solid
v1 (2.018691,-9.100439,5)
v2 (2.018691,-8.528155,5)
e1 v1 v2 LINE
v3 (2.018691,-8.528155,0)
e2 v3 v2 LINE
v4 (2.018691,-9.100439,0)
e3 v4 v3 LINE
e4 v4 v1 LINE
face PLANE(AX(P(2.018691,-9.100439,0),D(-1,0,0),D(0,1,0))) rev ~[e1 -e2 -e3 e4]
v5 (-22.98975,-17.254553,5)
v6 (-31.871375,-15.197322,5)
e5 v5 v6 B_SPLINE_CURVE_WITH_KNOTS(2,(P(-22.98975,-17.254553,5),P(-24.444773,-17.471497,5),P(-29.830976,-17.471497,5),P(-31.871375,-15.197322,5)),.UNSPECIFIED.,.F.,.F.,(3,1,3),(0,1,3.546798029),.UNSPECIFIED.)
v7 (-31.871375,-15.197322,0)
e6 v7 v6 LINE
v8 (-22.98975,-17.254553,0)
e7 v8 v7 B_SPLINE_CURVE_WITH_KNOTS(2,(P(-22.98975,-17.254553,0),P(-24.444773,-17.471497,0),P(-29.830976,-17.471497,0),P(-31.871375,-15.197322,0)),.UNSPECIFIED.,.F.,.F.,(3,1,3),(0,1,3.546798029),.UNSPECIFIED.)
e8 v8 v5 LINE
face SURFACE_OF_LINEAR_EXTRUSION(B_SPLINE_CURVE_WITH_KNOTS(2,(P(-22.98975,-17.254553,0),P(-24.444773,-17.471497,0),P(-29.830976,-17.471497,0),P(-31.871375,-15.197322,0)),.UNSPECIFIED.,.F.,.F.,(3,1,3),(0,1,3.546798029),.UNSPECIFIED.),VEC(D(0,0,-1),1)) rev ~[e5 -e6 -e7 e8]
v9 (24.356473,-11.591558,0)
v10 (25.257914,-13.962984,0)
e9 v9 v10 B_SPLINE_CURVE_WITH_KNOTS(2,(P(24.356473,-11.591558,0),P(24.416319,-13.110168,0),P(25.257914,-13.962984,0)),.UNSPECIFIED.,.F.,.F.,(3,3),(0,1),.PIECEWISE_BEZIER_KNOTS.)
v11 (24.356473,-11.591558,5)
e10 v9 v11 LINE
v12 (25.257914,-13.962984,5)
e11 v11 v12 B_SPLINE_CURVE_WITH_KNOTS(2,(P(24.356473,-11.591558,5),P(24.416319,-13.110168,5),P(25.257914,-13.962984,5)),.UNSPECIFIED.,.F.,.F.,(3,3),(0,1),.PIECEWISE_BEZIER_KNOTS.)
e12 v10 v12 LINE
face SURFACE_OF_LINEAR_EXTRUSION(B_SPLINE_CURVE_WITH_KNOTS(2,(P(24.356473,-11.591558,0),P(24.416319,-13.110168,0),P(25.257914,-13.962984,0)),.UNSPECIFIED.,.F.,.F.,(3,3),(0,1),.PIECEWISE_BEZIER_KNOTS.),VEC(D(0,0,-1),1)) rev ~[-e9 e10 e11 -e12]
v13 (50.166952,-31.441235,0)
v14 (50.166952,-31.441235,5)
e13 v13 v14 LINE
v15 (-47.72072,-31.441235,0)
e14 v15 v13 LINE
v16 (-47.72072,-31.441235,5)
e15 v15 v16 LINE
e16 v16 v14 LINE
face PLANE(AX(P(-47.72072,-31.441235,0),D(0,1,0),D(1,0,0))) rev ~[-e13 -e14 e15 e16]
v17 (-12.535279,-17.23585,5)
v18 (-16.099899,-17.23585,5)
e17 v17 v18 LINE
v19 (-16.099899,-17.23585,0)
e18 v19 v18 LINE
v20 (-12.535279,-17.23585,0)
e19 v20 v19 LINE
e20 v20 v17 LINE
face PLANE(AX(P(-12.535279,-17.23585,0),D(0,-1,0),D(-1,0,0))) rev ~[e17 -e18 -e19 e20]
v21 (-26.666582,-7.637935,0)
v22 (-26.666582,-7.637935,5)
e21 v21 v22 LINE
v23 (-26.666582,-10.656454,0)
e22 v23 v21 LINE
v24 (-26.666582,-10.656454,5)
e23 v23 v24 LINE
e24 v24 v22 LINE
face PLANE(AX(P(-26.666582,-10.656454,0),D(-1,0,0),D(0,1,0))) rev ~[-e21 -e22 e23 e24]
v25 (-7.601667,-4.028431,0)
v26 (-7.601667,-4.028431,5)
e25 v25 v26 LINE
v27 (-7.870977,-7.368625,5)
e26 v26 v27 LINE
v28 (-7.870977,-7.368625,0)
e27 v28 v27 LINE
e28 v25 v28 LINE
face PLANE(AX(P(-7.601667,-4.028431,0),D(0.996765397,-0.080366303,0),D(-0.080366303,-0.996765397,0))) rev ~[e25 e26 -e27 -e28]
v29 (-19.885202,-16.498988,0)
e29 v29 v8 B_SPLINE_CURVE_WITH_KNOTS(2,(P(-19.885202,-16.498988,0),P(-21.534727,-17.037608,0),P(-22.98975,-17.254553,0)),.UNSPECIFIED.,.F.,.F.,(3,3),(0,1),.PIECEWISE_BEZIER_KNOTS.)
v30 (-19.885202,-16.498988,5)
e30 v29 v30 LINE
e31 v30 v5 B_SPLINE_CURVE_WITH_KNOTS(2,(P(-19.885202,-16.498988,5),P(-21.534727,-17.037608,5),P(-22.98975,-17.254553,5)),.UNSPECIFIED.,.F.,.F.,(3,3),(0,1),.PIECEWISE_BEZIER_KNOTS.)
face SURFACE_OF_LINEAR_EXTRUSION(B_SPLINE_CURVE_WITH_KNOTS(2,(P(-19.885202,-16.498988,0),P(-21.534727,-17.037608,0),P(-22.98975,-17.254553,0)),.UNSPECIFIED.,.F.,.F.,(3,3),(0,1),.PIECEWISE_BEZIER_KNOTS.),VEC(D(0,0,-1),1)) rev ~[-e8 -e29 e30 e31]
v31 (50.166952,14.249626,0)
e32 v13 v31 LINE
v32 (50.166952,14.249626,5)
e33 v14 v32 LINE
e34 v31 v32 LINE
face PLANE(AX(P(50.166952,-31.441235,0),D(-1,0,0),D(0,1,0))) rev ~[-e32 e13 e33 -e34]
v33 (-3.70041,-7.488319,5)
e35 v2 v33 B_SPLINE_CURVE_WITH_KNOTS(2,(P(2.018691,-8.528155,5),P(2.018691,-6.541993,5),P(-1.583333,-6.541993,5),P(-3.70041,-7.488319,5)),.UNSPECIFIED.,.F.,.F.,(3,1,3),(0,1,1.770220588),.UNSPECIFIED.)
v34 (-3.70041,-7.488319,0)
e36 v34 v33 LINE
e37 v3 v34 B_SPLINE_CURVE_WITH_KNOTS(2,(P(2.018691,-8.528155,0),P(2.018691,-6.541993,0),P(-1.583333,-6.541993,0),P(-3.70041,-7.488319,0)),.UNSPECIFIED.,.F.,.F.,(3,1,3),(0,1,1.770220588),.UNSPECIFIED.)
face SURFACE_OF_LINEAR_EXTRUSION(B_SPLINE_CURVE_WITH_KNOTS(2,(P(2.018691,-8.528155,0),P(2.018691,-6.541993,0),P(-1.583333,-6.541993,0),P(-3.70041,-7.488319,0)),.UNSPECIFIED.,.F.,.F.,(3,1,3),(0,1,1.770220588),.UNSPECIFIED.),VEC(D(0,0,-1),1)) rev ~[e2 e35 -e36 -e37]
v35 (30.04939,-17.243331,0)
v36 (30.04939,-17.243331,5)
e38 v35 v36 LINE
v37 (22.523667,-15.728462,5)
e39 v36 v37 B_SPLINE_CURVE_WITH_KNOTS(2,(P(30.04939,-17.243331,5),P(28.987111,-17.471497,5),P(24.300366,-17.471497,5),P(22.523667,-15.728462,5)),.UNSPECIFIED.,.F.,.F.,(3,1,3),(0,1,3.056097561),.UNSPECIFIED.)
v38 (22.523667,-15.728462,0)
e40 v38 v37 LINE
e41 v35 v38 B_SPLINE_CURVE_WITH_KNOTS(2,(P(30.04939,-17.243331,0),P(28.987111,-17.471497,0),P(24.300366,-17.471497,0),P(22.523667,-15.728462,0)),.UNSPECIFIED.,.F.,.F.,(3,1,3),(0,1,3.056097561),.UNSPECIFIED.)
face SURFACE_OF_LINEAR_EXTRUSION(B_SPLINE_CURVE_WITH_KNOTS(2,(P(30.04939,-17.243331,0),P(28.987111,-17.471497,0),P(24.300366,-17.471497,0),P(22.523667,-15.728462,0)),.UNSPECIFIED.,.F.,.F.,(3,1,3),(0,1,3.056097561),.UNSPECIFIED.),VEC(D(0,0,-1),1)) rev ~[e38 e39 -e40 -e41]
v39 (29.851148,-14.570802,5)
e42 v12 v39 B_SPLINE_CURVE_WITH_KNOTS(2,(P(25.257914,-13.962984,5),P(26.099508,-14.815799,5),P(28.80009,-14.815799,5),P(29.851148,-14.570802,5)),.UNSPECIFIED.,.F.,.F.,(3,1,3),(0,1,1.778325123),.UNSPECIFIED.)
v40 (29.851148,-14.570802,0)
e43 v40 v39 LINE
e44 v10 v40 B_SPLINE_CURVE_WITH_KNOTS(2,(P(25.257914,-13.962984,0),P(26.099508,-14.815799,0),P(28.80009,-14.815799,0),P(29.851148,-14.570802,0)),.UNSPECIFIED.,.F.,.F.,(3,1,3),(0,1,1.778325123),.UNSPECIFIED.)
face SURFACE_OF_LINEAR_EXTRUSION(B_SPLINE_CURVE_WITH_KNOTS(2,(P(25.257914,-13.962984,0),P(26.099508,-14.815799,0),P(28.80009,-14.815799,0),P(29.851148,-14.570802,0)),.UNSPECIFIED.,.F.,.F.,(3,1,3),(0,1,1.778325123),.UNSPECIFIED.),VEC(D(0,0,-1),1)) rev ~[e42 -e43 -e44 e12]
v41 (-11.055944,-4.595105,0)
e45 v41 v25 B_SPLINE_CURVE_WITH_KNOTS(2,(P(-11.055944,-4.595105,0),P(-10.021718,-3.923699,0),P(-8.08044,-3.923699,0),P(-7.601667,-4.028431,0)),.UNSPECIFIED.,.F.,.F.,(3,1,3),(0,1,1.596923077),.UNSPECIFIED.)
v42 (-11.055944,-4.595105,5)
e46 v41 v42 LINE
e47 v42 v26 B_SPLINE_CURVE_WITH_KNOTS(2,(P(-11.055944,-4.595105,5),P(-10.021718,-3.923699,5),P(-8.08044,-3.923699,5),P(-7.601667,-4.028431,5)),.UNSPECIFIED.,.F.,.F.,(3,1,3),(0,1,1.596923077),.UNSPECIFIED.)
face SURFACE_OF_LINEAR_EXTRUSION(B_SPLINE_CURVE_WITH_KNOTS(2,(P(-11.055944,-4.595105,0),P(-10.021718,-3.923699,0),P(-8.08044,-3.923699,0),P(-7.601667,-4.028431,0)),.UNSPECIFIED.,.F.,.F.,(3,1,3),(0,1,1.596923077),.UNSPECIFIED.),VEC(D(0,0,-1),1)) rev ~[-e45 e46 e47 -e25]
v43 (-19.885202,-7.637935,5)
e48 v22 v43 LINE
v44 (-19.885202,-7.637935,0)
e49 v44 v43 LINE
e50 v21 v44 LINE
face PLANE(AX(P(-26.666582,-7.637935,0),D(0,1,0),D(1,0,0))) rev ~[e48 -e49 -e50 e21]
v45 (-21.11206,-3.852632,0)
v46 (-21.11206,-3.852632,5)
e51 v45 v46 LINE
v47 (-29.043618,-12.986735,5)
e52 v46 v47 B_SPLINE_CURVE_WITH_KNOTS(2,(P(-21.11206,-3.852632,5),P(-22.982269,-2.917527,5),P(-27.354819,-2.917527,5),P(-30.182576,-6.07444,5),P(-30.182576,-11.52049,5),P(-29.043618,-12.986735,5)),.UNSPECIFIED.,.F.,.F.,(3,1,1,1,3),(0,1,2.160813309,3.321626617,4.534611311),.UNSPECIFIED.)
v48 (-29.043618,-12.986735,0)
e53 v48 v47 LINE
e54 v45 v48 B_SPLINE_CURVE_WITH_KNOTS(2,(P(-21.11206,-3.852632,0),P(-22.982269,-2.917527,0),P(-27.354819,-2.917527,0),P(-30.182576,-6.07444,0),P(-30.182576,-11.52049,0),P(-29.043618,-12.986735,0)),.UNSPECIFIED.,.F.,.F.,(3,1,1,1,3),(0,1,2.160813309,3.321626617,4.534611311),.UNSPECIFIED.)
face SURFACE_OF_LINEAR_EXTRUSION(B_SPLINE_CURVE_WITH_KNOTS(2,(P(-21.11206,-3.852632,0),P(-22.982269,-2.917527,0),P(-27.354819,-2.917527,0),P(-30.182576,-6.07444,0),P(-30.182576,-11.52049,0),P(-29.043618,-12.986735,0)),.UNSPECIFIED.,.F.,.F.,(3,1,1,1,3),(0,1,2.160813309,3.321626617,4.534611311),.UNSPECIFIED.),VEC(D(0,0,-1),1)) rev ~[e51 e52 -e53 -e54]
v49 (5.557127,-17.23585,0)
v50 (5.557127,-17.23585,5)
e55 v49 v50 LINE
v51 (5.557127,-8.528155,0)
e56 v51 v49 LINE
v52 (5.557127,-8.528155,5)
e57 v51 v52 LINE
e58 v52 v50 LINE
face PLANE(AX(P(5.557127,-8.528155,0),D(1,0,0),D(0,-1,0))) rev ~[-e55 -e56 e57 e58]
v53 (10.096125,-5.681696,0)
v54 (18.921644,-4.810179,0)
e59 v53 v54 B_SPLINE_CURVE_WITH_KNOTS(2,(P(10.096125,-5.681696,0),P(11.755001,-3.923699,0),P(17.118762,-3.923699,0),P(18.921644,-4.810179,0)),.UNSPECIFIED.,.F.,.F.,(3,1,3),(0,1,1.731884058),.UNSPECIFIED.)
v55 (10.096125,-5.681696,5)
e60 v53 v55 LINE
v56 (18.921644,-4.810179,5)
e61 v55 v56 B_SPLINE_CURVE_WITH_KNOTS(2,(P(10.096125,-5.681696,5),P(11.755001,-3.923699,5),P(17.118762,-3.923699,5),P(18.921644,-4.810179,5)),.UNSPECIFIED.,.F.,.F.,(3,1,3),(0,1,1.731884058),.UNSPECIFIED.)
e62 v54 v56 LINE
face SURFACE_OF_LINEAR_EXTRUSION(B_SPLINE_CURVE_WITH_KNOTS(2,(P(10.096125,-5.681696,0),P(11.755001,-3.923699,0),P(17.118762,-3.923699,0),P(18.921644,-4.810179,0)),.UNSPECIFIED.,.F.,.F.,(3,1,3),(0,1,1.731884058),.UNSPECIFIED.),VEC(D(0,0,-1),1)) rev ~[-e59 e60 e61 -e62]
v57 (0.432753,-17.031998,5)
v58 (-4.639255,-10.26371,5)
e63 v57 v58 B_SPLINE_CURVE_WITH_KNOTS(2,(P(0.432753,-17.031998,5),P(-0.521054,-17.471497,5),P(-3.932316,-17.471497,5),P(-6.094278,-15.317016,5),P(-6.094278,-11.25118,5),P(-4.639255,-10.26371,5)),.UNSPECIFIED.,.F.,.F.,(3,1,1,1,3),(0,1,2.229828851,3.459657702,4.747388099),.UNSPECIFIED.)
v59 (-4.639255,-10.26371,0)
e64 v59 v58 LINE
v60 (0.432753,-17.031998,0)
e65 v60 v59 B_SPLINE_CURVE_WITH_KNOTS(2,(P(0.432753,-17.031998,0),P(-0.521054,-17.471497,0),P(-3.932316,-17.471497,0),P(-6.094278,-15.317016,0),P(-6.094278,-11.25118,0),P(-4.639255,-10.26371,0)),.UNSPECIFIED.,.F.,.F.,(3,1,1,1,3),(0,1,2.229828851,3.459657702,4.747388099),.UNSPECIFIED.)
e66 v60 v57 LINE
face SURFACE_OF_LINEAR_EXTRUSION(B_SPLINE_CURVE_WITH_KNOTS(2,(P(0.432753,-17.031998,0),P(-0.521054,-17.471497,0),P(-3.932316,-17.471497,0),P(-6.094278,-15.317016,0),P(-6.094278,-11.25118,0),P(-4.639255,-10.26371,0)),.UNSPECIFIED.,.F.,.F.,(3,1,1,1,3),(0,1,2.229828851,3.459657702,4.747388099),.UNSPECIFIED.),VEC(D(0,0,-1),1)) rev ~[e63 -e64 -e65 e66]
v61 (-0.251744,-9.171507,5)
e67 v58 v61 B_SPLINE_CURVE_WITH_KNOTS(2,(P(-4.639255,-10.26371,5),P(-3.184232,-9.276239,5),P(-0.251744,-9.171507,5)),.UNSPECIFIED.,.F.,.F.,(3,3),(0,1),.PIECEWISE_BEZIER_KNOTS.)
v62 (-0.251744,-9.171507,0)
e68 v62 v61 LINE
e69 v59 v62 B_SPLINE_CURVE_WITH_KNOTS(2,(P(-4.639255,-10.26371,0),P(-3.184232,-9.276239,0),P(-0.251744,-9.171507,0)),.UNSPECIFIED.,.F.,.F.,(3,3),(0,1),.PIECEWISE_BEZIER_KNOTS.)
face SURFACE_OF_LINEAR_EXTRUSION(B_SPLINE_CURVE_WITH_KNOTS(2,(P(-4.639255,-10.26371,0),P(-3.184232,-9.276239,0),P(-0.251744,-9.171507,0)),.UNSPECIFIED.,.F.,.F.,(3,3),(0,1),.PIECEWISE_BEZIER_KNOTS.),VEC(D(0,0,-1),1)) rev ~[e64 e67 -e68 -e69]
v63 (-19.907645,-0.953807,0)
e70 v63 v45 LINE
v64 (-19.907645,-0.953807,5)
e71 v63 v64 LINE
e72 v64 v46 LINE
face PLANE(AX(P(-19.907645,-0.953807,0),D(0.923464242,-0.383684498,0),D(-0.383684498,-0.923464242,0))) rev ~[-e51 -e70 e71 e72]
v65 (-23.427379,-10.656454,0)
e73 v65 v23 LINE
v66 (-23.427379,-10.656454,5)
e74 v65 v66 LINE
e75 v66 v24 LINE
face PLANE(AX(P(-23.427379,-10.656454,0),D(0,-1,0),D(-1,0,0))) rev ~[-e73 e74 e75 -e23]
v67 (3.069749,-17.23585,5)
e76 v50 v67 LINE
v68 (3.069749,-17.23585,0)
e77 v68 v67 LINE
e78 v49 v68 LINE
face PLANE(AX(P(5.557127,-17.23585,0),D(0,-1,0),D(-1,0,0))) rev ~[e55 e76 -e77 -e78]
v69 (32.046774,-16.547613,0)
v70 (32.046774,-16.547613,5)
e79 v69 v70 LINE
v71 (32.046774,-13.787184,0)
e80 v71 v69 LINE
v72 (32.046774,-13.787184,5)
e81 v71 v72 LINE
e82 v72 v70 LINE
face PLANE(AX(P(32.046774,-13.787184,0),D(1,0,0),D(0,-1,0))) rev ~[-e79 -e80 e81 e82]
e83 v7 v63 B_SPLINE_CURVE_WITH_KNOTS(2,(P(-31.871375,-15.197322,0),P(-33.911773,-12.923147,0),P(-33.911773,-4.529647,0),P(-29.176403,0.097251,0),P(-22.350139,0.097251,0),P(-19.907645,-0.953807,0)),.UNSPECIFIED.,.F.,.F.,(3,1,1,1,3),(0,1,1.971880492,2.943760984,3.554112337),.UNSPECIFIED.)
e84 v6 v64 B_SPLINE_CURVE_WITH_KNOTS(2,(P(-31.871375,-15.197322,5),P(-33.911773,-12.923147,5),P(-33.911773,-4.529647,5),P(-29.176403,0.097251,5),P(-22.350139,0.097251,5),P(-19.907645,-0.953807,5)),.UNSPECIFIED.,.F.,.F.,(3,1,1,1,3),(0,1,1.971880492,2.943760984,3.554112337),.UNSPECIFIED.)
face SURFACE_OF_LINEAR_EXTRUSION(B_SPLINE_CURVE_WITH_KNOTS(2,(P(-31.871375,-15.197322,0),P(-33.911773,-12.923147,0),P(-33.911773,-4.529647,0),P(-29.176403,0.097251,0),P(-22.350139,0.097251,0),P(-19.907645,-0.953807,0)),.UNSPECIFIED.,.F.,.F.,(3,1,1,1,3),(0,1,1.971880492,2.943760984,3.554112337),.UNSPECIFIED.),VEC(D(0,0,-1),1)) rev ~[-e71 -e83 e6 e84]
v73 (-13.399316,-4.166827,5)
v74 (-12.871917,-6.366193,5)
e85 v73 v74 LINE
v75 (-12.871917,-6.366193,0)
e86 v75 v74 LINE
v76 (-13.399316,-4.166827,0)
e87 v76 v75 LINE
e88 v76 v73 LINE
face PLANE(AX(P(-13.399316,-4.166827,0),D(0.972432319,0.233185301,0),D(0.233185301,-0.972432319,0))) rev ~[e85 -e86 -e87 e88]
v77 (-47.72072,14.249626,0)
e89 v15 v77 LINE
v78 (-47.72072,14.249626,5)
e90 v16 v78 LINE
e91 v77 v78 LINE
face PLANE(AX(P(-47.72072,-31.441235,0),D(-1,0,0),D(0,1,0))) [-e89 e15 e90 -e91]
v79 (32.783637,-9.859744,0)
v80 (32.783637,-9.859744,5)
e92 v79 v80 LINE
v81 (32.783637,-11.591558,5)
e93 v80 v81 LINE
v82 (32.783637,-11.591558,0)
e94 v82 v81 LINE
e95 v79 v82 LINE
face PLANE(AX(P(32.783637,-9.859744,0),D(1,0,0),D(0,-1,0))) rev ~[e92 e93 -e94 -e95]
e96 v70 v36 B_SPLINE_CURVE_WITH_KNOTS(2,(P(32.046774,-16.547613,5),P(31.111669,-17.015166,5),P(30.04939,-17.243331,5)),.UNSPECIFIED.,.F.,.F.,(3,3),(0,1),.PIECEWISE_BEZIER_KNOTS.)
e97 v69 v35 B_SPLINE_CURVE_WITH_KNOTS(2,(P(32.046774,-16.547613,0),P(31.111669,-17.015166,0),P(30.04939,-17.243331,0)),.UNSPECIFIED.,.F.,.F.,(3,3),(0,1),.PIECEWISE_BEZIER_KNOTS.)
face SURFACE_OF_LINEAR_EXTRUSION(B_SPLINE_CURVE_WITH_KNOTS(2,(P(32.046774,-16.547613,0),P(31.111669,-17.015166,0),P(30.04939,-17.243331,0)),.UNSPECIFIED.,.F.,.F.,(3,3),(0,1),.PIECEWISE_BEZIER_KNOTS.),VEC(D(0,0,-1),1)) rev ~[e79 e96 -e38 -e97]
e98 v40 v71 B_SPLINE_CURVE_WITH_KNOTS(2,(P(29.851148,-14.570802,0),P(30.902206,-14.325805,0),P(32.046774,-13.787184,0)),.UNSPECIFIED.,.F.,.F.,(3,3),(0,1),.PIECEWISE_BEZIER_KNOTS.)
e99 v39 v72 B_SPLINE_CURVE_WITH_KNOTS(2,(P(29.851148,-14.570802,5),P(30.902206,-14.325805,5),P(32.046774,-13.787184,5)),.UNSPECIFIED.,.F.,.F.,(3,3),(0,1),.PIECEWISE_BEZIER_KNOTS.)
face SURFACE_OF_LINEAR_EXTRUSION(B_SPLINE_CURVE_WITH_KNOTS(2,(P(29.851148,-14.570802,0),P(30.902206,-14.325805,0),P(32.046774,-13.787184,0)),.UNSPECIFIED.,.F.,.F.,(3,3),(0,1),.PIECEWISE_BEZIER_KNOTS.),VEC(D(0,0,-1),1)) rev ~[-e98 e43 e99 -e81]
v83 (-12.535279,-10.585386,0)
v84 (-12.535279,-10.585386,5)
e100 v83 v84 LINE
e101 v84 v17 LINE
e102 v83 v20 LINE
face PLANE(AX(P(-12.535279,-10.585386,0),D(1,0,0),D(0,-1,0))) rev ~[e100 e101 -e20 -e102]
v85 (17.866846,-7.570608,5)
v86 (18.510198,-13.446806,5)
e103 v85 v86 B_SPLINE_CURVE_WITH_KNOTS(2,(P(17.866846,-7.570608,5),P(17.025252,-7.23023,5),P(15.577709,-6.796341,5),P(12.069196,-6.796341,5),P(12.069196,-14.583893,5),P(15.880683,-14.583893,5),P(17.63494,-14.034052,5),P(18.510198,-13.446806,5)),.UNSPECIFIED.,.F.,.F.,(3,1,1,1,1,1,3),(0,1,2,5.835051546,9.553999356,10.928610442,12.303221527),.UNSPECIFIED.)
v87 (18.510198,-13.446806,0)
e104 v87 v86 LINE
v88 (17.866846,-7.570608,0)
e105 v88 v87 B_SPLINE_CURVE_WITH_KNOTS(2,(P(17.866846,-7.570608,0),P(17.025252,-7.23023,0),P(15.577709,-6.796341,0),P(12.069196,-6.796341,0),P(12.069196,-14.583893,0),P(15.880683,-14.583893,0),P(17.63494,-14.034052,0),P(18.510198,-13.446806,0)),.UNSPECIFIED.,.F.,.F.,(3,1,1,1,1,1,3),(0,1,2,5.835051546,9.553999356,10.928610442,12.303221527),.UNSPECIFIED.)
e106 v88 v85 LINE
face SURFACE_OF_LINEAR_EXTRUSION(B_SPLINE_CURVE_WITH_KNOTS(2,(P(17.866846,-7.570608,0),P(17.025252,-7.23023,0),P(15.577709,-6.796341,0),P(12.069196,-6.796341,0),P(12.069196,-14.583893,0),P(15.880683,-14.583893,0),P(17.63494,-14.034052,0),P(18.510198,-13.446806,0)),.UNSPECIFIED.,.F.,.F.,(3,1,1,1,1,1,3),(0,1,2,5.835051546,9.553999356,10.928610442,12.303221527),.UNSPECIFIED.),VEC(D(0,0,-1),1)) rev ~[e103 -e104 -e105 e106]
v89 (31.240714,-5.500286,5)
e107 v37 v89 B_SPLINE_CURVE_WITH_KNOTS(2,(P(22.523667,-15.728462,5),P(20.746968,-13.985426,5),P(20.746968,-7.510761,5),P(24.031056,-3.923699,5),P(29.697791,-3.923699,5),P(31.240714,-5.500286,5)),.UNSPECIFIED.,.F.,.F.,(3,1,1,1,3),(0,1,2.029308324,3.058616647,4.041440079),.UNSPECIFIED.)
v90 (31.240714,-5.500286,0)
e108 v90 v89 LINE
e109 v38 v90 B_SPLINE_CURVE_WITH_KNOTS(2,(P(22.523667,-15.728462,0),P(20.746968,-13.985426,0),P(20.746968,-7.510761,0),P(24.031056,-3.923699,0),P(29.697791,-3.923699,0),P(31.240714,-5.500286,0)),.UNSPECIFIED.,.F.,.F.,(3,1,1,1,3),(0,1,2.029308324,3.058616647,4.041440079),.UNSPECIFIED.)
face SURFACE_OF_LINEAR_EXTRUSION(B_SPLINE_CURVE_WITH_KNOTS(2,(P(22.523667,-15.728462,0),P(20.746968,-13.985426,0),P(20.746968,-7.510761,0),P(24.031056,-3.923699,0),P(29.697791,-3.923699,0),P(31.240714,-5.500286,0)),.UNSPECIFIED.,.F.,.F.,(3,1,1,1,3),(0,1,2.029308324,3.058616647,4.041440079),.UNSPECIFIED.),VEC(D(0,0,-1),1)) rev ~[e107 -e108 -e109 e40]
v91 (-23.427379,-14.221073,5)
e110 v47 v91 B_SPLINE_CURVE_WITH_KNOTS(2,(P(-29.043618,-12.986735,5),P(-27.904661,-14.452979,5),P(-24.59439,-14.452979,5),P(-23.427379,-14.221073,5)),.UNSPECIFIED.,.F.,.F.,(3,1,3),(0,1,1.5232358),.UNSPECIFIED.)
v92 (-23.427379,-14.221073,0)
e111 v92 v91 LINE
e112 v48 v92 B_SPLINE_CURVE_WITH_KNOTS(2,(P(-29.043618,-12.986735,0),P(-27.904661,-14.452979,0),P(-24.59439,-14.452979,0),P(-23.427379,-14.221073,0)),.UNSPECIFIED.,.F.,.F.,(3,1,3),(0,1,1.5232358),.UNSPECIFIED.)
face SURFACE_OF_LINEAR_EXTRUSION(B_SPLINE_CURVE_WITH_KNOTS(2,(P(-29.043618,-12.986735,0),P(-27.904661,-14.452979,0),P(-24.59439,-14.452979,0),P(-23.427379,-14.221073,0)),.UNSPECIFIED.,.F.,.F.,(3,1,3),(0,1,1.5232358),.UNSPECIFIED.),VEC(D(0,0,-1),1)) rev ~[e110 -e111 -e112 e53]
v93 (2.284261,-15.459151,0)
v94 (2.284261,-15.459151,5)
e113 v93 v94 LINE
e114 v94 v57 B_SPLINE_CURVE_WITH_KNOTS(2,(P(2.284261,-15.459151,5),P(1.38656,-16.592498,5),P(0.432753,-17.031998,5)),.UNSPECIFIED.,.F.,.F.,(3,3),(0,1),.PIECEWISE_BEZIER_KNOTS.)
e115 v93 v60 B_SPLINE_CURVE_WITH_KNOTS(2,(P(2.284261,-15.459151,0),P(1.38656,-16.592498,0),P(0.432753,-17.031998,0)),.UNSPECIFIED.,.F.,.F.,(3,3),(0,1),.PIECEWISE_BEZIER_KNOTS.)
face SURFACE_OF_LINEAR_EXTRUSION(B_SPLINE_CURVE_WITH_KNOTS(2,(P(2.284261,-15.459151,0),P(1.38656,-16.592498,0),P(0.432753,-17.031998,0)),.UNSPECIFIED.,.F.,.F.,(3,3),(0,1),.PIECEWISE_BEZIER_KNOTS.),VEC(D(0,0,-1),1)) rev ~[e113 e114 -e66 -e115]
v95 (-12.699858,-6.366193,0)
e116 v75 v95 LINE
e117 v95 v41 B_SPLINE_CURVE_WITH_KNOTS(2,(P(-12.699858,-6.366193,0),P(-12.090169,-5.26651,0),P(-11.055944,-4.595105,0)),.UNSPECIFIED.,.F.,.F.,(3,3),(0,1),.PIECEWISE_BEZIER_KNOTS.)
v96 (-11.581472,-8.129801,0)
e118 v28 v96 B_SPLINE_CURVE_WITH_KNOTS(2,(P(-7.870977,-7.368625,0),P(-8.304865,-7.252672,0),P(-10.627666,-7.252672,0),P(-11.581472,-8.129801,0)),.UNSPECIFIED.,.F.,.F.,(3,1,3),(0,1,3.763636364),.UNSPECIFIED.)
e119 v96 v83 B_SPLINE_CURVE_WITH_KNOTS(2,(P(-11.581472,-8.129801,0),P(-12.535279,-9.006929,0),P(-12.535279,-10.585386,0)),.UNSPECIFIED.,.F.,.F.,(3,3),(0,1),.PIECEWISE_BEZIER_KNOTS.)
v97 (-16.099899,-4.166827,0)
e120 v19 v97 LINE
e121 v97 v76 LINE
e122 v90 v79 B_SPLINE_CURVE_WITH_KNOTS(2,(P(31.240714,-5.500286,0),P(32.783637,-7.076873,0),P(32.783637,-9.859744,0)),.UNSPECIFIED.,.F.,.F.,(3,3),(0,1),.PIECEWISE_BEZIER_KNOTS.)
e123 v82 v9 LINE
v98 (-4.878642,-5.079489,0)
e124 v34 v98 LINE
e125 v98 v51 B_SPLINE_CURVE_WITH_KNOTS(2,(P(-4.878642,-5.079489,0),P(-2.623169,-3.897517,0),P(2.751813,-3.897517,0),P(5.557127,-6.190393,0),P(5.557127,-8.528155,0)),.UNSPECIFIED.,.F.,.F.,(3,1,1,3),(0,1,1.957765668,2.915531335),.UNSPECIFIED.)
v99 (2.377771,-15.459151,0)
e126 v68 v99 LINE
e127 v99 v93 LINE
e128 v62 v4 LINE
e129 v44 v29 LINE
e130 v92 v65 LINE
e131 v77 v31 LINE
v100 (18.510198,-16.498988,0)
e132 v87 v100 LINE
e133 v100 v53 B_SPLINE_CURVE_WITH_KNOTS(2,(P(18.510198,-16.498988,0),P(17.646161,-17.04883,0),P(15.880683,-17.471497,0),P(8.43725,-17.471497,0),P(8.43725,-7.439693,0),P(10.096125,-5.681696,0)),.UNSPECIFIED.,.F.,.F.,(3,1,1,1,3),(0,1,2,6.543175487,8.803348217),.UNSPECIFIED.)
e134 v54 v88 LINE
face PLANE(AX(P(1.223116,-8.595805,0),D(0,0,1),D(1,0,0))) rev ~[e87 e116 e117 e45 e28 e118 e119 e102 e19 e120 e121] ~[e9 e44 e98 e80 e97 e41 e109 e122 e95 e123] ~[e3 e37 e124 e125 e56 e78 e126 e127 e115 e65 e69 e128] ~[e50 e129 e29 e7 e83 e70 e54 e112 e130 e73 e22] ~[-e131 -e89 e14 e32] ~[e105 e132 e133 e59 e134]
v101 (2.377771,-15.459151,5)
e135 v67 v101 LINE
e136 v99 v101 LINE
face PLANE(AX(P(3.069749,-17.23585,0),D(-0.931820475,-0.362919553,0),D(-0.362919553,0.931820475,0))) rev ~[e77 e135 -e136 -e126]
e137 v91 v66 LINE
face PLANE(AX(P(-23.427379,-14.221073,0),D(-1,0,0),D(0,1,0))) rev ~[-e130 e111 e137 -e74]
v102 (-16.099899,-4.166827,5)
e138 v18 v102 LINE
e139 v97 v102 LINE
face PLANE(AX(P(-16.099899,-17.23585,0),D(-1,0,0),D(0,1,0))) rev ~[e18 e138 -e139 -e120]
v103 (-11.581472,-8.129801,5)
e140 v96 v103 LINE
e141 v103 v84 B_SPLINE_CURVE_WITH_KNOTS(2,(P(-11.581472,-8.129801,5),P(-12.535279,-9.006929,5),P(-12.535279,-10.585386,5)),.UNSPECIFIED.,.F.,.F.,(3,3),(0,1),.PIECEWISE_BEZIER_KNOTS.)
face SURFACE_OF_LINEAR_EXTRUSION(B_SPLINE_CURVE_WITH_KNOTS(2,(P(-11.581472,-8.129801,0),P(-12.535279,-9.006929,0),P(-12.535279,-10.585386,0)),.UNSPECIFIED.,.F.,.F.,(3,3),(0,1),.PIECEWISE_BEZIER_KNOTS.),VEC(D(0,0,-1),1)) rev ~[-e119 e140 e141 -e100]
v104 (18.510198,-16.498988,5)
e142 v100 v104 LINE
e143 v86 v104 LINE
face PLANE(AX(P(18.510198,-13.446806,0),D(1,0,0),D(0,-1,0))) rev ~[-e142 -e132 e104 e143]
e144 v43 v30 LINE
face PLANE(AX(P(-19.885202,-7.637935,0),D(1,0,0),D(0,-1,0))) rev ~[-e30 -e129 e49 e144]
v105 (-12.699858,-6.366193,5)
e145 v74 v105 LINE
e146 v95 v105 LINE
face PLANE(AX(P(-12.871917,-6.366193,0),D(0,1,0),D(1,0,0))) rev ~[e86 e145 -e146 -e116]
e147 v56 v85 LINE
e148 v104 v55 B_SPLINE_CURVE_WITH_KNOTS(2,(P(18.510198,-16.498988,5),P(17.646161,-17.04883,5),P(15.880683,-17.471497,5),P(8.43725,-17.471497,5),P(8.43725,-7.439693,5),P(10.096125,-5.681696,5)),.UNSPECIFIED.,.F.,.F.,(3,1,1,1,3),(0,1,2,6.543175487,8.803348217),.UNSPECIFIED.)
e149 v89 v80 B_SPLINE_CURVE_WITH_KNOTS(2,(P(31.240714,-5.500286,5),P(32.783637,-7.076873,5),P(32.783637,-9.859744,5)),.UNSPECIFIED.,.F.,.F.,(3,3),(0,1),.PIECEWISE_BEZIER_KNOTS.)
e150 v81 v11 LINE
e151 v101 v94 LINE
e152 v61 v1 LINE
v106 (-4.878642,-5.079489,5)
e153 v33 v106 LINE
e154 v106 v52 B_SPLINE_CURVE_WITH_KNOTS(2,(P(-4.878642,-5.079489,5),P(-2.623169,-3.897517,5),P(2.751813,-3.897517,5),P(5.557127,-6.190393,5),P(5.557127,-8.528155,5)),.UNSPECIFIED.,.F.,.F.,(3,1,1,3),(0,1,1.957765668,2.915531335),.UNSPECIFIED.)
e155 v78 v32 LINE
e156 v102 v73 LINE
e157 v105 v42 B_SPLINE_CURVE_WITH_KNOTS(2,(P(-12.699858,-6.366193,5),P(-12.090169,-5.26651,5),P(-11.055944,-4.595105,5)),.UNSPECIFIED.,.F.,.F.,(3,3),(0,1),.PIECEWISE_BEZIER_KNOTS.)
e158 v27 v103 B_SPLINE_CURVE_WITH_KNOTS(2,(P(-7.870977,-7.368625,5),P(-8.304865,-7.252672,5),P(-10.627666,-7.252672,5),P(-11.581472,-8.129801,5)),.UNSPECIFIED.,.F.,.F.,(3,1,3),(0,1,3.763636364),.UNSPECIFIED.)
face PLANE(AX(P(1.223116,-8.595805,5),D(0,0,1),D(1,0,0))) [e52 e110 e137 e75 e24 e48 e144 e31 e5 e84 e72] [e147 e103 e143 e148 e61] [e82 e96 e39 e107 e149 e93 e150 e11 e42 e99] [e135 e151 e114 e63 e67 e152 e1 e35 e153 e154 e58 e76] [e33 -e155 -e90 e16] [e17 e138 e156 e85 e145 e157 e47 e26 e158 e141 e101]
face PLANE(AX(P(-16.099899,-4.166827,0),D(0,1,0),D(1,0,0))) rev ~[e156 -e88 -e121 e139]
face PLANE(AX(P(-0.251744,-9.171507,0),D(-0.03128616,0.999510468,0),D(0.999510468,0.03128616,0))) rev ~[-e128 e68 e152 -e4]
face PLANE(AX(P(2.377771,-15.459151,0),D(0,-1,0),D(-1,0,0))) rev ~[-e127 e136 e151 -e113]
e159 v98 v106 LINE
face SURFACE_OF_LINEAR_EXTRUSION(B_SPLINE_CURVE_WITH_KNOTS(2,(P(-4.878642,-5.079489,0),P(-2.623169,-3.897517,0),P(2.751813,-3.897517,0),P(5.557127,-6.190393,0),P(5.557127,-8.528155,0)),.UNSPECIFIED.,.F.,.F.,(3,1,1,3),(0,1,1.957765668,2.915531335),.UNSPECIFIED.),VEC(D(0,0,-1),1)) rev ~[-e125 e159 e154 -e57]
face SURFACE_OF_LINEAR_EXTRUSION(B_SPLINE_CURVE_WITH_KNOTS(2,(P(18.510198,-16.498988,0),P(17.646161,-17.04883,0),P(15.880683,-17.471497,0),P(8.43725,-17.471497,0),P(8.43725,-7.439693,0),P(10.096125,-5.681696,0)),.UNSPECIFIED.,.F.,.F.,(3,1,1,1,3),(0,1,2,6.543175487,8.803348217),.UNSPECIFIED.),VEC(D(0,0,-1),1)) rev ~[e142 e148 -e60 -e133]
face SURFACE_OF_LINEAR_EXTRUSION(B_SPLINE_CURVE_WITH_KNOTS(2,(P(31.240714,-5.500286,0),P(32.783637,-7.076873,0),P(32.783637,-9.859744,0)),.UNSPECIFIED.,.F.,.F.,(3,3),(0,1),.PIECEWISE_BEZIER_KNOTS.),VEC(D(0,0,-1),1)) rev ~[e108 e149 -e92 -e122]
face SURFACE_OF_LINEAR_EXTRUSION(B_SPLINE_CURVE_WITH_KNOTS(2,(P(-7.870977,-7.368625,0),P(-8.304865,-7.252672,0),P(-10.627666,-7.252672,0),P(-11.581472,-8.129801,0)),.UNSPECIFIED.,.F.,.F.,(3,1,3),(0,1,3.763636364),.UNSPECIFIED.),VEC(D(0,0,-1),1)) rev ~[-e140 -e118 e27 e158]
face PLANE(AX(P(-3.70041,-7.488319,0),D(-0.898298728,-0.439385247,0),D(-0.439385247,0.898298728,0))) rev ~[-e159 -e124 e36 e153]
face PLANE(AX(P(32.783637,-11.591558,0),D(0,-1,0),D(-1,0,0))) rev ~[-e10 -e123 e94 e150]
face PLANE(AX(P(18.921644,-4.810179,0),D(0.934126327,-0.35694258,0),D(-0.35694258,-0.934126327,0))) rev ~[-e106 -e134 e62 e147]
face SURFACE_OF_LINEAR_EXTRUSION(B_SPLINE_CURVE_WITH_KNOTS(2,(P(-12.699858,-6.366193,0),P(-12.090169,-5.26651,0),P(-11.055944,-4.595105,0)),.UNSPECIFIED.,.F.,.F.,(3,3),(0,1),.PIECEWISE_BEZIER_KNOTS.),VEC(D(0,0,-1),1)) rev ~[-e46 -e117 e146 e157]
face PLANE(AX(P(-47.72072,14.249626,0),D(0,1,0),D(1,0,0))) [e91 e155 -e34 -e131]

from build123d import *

# Parameters (mm, degrees)
F0_W     = 97.8876724839
F0_H     = 45.6908610649
F1_DEPTH = 5


with BuildPart() as f1:
    # F0 (on Top) → F1 (new body)
    with BuildSketch(Plane.XY):
        with Locations((1.2231161818, -8.5958049167)):
            Rectangle(F0_W, F0_H)
        with BuildLine():
            Line((-26.666582018, -10.6564535441), (-26.666582018, -7.637935464))
            Line((-26.666582018, -7.637935464), (-19.8852024899, -7.637935464))
            Line((-19.8852024899, -7.637935464), (-19.8852024899, -16.4989879196))
            add(Edge.make_bspline(
                [(-19.8852024899, -16.4989879196), (-21.53472724, -17.0376082461), (-22.9897502054, -17.2545525443)],
                knots=[0, 0, 0, 1, 1, 1], degree=2))
            add(Edge.make_bspline(
                [(-22.9897502054, -17.2545525443), (-24.4447731709, -17.4714968425), (-25.9633832583, -17.4714968425)],
                knots=[0, 0, 0, 1, 1, 1], degree=2))
            add(Edge.make_bspline(
                [(-25.9633832583, -17.4714968425), (-29.8309764364, -17.4714968425), (-31.8713749652, -15.1973221304)],
                knots=[0, 0, 0, 1, 1, 1], degree=2))
            add(Edge.make_bspline(
                [(-31.8713749652, -15.1973221304), (-33.9117734939, -12.9231474183), (-33.9117734939, -8.666550671)],
                knots=[0, 0, 0, 1, 1, 1], degree=2))
            add(Edge.make_bspline(
                [(-33.9117734939, -8.666550671), (-33.9117734939, -4.5296473295), (-31.5440883084, -2.2161982186)],
                knots=[0, 0, 0, 1, 1, 1], degree=2))
            add(Edge.make_bspline(
                [(-31.5440883084, -2.2161982186), (-29.1764031229, 0.0972508923), (-24.9833934975, 0.0972508923)],
                knots=[0, 0, 0, 1, 1, 1], degree=2))
            add(Edge.make_bspline(
                [(-24.9833934975, 0.0972508923), (-22.3501385677, 0.0972508923), (-19.9076450035, -0.9538068283)],
                knots=[0, 0, 0, 1, 1, 1], degree=2))
            Line((-19.9076450035, -0.9538068283), (-21.1120599004, -3.8526315024))
            add(Edge.make_bspline(
                [(-21.1120599004, -3.8526315024), (-22.9822693676, -2.9175267688), (-25.0058360111, -2.9175267688)],
                knots=[0, 0, 0, 1, 1, 1], degree=2))
            add(Edge.make_bspline(
                [(-25.0058360111, -2.9175267688), (-27.3548191019, -2.9175267688), (-28.7686974591, -4.4959835591)],
                knots=[0, 0, 0, 1, 1, 1], degree=2))
            add(Edge.make_bspline(
                [(-28.7686974591, -4.4959835591), (-30.1825758163, -6.0744403494), (-30.1825758163, -8.7376186307)],
                knots=[0, 0, 0, 1, 1, 1], degree=2))
            add(Edge.make_bspline(
                [(-30.1825758163, -8.7376186307), (-30.1825758163, -11.5204903179), (-29.0436182508, -12.9867345402)],
                knots=[0, 0, 0, 1, 1, 1], degree=2))
            add(Edge.make_bspline(
                [(-29.0436182508, -12.9867345402), (-27.9046606852, -14.4529787625), (-25.7314772844, -14.4529787625)],
                knots=[0, 0, 0, 1, 1, 1], degree=2))
            add(Edge.make_bspline(
                [(-25.7314772844, -14.4529787625), (-24.5943899283, -14.4529787625), (-23.4273792208, -14.2210727885)],
                knots=[0, 0, 0, 1, 1, 1], degree=2))
            Line((-23.4273792208, -14.2210727885), (-23.4273792208, -10.6564535441))
            Line((-23.4273792208, -10.6564535441), (-26.666582018, -10.6564535441))
        make_face(mode=Mode.SUBTRACT)
        with BuildLine():
            add(Edge.make_bspline(
                [(-11.0559435953, -4.5951046609), (-10.0217177599, -3.9236994622), (-8.8060816063, -3.9236994622)],
                knots=[0, 0, 0, 1, 1, 1], degree=2))
            add(Edge.make_bspline(
                [(-8.8060816063, -3.9236994622), (-8.080440333, -3.9236994622), (-7.6016667094, -4.0284311923)],
                knots=[0, 0, 0, 1, 1, 1], degree=2))
            Line((-7.6016667094, -4.0284311923), (-7.8709768727, -7.3686253007))
            add(Edge.make_bspline(
                [(-7.8709768727, -7.3686253007), (-8.304865469, -7.2526723138), (-8.9220345932, -7.2526723138)],
                knots=[0, 0, 0, 1, 1, 1], degree=2))
            add(Edge.make_bspline(
                [(-8.9220345932, -7.2526723138), (-10.6276656273, -7.2526723138), (-11.5814724556, -8.1298005539)],
                knots=[0, 0, 0, 1, 1, 1], degree=2))
            add(Edge.make_bspline(
                [(-11.5814724556, -8.1298005539), (-12.5352792838, -9.006928794), (-12.5352792838, -10.5853855843)],
                knots=[0, 0, 0, 1, 1, 1], degree=2))
            Line((-12.5352792838, -10.5853855843), (-12.5352792838, -17.2358504497))
            Line((-12.5352792838, -17.2358504497), (-16.0998985283, -17.2358504497))
            Line((-16.0998985283, -17.2358504497), (-16.0998985283, -4.1668266929))
            Line((-16.0998985283, -4.1668266929), (-13.3993160577, -4.1668266929))
            Line((-13.3993160577, -4.1668266929), (-12.8719169879, -6.3661930263))
            Line((-12.8719169879, -6.3661930263), (-12.699857717, -6.3661930263))
            add(Edge.make_bspline(
                [(-12.699857717, -6.3661930263), (-12.0901694306, -5.2665098596), (-11.0559435953, -4.5951046609)],
                knots=[0, 0, 0, 1, 1, 1], degree=2))
        make_face(mode=Mode.SUBTRACT)
        with BuildLine():
            Line((5.5571271018, -17.2358504497), (3.0697485104, -17.2358504497))
            Line((3.0697485104, -17.2358504497), (2.3777710076, -15.4591514558))
            Line((2.3777710076, -15.4591514558), (2.2842605342, -15.4591514558))
            add(Edge.make_bspline(
                [(2.2842605342, -15.4591514558), (1.3865599899, -16.5924983929), (0.4327531617, -17.0319976177)],
                knots=[0, 0, 0, 1, 1, 1], degree=2))
            add(Edge.make_bspline(
                [(0.4327531617, -17.0319976177), (-0.5210536666, -17.4714968425), (-2.0508850108, -17.4714968425)],
                knots=[0, 0, 0, 1, 1, 1], degree=2))
            add(Edge.make_bspline(
                [(-2.0508850108, -17.4714968425), (-3.9323157348, -17.4714968425), (-5.0132968068, -16.3942561894)],
                knots=[0, 0, 0, 1, 1, 1], degree=2))
            add(Edge.make_bspline(
                [(-5.0132968068, -16.3942561894), (-6.0942778788, -15.3170155363), (-6.0942778788, -13.3308530822)],
                knots=[0, 0, 0, 1, 1, 1], degree=2))
            add(Edge.make_bspline(
                [(-6.0942778788, -13.3308530822), (-6.0942778788, -11.2511801546), (-4.6392549133, -10.263709556)],
                knots=[0, 0, 0, 1, 1, 1], degree=2))
            add(Edge.make_bspline(
                [(-4.6392549133, -10.263709556), (-3.1842319479, -9.2762389573), (-0.2517435033, -9.1715072271)],
                knots=[0, 0, 0, 1, 1, 1], degree=2))
            Line((-0.2517435033, -9.1715072271), (2.0186907899, -9.1004392674))
            Line((2.0186907899, -9.1004392674), (2.0186907899, -8.5281551704))
            add(Edge.make_bspline(
                [(2.0186907899, -8.5281551704), (2.0186907899, -6.5419927162), (-0.0160971104, -6.5419927162)],
                knots=[0, 0, 0, 1, 1, 1], degree=2))
            add(Edge.make_bspline(
                [(-0.0160971104, -6.5419927162), (-1.583332644, -6.5419927162), (-3.7004097608, -7.4883187066)],
                knots=[0, 0, 0, 1, 1, 1], degree=2))
            Line((-3.7004097608, -7.4883187066), (-4.8786417252, -5.0794889129))
            add(Edge.make_bspline(
                [(-4.8786417252, -5.0794889129), (-2.6231691077, -3.8975165296), (0.1222983901, -3.8975165296)],
                knots=[0, 0, 0, 1, 1, 1], degree=2))
            add(Edge.make_bspline(
                [(0.1222983901, -3.8975165296), (2.751812901, -3.8975165296), (4.1544700014, -5.043954933)],
                knots=[0, 0, 0, 1, 1, 1], degree=2))
            add(Edge.make_bspline(
                [(4.1544700014, -5.043954933), (5.5571271018, -6.1903933364), (5.5571271018, -8.5281551704)],
                knots=[0, 0, 0, 1, 1, 1], degree=2))
            Line((5.5571271018, -8.5281551704), (5.5571271018, -17.2358504497))
        make_face(mode=Mode.SUBTRACT)
        with BuildLine():
            add(Edge.make_bspline(
                [(16.7634222292, -17.2601631727), (15.8806833607, -17.4714968425), (14.5378729632, -17.4714968425)],
                knots=[0, 0, 0, 1, 1, 1], degree=2))
            add(Edge.make_bspline(
                [(14.5378729632, -17.4714968425), (8.4372496813, -17.4714968425), (8.4372496813, -10.772406531)],
                knots=[0, 0, 0, 1, 1, 1], degree=2))
            add(Edge.make_bspline(
                [(8.4372496813, -10.772406531), (8.4372496813, -7.4396932605), (10.0961254787, -5.6816963613)],
                knots=[0, 0, 0, 1, 1, 1], degree=2))
            add(Edge.make_bspline(
                [(10.0961254787, -5.6816963613), (11.7550012761, -3.9236994622), (14.8520681537, -3.9236994622)],
                knots=[0, 0, 0, 1, 1, 1], degree=2))
            add(Edge.make_bspline(
                [(14.8520681537, -3.9236994622), (17.118762028, -3.9236994622), (18.9216439544, -4.8101787496)],
                knots=[0, 0, 0, 1, 1, 1], degree=2))
            Line((18.9216439544, -4.8101787496), (17.8668458149, -7.5706079232))
            add(Edge.make_bspline(
                [(17.8668458149, -7.5706079232), (17.0252515546, -7.2302298002), (16.3014804908, -7.013285502)],
                knots=[0, 0, 0, 1, 1, 1], degree=2))
            add(Edge.make_bspline(
                [(16.3014804908, -7.013285502), (15.577709427, -6.7963412038), (14.8520681537, -6.7963412038)],
                knots=[0, 0, 0, 1, 1, 1], degree=2))
            add(Edge.make_bspline(
                [(14.8520681537, -6.7963412038), (12.0691964666, -6.7963412038), (12.0691964666, -10.7499640174)],
                knots=[0, 0, 0, 1, 1, 1], degree=2))
            add(Edge.make_bspline(
                [(12.0691964666, -10.7499640174), (12.0691964666, -14.5838934252), (14.8520681537, -14.5838934252)],
                knots=[0, 0, 0, 1, 1, 1], degree=2))
            add(Edge.make_bspline(
                [(14.8520681537, -14.5838934252), (15.8806833607, -14.5838934252), (16.7578116008, -14.3089726335)],
                knots=[0, 0, 0, 1, 1, 1], degree=2))
            add(Edge.make_bspline(
                [(16.7578116008, -14.3089726335), (17.6349398409, -14.0340518418), (18.5101978716, -13.4468060691)],
                knots=[0, 0, 0, 1, 1, 1], degree=2))
            Line((18.5101978716, -13.4468060691), (18.5101978716, -16.4989879196))
            add(Edge.make_bspline(
                [(18.5101978716, -16.4989879196), (17.6461610977, -17.0488295029), (16.7634222292, -17.2601631727)],
                knots=[0, 0, 0, 1, 1, 1], degree=2))
        make_face(mode=Mode.SUBTRACT)
        with BuildLine():
            add(Edge.make_bspline(
                [(30.0493902842, -17.2433312875), (28.9871113068, -17.4714968425), (27.4535395437, -17.4714968425)],
                knots=[0, 0, 0, 1, 1, 1], degree=2))
            add(Edge.make_bspline(
                [(27.4535395437, -17.4714968425), (24.300366382, -17.4714968425), (22.5236673882, -15.7284616191)],
                knots=[0, 0, 0, 1, 1, 1], degree=2))
            add(Edge.make_bspline(
                [(22.5236673882, -15.7284616191), (20.7469683943, -13.9854263957), (20.7469683943, -10.7948490446)],
                knots=[0, 0, 0, 1, 1, 1], degree=2))
            add(Edge.make_bspline(
                [(20.7469683943, -10.7948490446), (20.7469683943, -7.5107612202), (22.3890123065, -5.7172303412)],
                knots=[0, 0, 0, 1, 1, 1], degree=2))
            add(Edge.make_bspline(
                [(22.3890123065, -5.7172303412), (24.0310562187, -3.9236994622), (26.9298808929, -3.9236994622)],
                knots=[0, 0, 0, 1, 1, 1], degree=2))
            add(Edge.make_bspline(
                [(26.9298808929, -3.9236994622), (29.6977909043, -3.9236994622), (31.2407137148, -5.500286043)],
                knots=[0, 0, 0, 1, 1, 1], degree=2))
            add(Edge.make_bspline(
                [(31.2407137148, -5.500286043), (32.7836365252, -7.0768726239), (32.7836365252, -9.859744311)],
                knots=[0, 0, 0, 1, 1, 1], degree=2))
            Line((32.7836365252, -9.859744311), (32.7836365252, -11.5915582777))
            Line((32.7836365252, -11.5915582777), (24.356472666, -11.5915582777))
            add(Edge.make_bspline(
                [(24.356472666, -11.5915582777), (24.416319369, -13.110168365), (25.2579136292, -13.9629838821)],
                knots=[0, 0, 0, 1, 1, 1], degree=2))
            add(Edge.make_bspline(
                [(25.2579136292, -13.9629838821), (26.0995078894, -14.8157993991), (27.6181179768, -14.8157993991)],
                knots=[0, 0, 0, 1, 1, 1], degree=2))
            add(Edge.make_bspline(
                [(27.6181179768, -14.8157993991), (28.8000903601, -14.8157993991), (29.8511480806, -14.5708019589)],
                knots=[0, 0, 0, 1, 1, 1], degree=2))
            add(Edge.make_bspline(
                [(29.8511480806, -14.5708019589), (30.9022058012, -14.3258045187), (32.0467739951, -13.7871841921)],
                knots=[0, 0, 0, 1, 1, 1], degree=2))
            Line((32.0467739951, -13.7871841921), (32.0467739951, -16.5476133657))
            add(Edge.make_bspline(
                [(32.0467739951, -16.5476133657), (31.1116692615, -17.0151657325), (30.0493902842, -17.2433312875)],
                knots=[0, 0, 0, 1, 1, 1], degree=2))
        make_face(mode=Mode.SUBTRACT)
    extrude(amount=F1_DEPTH)


solid = f1.part
